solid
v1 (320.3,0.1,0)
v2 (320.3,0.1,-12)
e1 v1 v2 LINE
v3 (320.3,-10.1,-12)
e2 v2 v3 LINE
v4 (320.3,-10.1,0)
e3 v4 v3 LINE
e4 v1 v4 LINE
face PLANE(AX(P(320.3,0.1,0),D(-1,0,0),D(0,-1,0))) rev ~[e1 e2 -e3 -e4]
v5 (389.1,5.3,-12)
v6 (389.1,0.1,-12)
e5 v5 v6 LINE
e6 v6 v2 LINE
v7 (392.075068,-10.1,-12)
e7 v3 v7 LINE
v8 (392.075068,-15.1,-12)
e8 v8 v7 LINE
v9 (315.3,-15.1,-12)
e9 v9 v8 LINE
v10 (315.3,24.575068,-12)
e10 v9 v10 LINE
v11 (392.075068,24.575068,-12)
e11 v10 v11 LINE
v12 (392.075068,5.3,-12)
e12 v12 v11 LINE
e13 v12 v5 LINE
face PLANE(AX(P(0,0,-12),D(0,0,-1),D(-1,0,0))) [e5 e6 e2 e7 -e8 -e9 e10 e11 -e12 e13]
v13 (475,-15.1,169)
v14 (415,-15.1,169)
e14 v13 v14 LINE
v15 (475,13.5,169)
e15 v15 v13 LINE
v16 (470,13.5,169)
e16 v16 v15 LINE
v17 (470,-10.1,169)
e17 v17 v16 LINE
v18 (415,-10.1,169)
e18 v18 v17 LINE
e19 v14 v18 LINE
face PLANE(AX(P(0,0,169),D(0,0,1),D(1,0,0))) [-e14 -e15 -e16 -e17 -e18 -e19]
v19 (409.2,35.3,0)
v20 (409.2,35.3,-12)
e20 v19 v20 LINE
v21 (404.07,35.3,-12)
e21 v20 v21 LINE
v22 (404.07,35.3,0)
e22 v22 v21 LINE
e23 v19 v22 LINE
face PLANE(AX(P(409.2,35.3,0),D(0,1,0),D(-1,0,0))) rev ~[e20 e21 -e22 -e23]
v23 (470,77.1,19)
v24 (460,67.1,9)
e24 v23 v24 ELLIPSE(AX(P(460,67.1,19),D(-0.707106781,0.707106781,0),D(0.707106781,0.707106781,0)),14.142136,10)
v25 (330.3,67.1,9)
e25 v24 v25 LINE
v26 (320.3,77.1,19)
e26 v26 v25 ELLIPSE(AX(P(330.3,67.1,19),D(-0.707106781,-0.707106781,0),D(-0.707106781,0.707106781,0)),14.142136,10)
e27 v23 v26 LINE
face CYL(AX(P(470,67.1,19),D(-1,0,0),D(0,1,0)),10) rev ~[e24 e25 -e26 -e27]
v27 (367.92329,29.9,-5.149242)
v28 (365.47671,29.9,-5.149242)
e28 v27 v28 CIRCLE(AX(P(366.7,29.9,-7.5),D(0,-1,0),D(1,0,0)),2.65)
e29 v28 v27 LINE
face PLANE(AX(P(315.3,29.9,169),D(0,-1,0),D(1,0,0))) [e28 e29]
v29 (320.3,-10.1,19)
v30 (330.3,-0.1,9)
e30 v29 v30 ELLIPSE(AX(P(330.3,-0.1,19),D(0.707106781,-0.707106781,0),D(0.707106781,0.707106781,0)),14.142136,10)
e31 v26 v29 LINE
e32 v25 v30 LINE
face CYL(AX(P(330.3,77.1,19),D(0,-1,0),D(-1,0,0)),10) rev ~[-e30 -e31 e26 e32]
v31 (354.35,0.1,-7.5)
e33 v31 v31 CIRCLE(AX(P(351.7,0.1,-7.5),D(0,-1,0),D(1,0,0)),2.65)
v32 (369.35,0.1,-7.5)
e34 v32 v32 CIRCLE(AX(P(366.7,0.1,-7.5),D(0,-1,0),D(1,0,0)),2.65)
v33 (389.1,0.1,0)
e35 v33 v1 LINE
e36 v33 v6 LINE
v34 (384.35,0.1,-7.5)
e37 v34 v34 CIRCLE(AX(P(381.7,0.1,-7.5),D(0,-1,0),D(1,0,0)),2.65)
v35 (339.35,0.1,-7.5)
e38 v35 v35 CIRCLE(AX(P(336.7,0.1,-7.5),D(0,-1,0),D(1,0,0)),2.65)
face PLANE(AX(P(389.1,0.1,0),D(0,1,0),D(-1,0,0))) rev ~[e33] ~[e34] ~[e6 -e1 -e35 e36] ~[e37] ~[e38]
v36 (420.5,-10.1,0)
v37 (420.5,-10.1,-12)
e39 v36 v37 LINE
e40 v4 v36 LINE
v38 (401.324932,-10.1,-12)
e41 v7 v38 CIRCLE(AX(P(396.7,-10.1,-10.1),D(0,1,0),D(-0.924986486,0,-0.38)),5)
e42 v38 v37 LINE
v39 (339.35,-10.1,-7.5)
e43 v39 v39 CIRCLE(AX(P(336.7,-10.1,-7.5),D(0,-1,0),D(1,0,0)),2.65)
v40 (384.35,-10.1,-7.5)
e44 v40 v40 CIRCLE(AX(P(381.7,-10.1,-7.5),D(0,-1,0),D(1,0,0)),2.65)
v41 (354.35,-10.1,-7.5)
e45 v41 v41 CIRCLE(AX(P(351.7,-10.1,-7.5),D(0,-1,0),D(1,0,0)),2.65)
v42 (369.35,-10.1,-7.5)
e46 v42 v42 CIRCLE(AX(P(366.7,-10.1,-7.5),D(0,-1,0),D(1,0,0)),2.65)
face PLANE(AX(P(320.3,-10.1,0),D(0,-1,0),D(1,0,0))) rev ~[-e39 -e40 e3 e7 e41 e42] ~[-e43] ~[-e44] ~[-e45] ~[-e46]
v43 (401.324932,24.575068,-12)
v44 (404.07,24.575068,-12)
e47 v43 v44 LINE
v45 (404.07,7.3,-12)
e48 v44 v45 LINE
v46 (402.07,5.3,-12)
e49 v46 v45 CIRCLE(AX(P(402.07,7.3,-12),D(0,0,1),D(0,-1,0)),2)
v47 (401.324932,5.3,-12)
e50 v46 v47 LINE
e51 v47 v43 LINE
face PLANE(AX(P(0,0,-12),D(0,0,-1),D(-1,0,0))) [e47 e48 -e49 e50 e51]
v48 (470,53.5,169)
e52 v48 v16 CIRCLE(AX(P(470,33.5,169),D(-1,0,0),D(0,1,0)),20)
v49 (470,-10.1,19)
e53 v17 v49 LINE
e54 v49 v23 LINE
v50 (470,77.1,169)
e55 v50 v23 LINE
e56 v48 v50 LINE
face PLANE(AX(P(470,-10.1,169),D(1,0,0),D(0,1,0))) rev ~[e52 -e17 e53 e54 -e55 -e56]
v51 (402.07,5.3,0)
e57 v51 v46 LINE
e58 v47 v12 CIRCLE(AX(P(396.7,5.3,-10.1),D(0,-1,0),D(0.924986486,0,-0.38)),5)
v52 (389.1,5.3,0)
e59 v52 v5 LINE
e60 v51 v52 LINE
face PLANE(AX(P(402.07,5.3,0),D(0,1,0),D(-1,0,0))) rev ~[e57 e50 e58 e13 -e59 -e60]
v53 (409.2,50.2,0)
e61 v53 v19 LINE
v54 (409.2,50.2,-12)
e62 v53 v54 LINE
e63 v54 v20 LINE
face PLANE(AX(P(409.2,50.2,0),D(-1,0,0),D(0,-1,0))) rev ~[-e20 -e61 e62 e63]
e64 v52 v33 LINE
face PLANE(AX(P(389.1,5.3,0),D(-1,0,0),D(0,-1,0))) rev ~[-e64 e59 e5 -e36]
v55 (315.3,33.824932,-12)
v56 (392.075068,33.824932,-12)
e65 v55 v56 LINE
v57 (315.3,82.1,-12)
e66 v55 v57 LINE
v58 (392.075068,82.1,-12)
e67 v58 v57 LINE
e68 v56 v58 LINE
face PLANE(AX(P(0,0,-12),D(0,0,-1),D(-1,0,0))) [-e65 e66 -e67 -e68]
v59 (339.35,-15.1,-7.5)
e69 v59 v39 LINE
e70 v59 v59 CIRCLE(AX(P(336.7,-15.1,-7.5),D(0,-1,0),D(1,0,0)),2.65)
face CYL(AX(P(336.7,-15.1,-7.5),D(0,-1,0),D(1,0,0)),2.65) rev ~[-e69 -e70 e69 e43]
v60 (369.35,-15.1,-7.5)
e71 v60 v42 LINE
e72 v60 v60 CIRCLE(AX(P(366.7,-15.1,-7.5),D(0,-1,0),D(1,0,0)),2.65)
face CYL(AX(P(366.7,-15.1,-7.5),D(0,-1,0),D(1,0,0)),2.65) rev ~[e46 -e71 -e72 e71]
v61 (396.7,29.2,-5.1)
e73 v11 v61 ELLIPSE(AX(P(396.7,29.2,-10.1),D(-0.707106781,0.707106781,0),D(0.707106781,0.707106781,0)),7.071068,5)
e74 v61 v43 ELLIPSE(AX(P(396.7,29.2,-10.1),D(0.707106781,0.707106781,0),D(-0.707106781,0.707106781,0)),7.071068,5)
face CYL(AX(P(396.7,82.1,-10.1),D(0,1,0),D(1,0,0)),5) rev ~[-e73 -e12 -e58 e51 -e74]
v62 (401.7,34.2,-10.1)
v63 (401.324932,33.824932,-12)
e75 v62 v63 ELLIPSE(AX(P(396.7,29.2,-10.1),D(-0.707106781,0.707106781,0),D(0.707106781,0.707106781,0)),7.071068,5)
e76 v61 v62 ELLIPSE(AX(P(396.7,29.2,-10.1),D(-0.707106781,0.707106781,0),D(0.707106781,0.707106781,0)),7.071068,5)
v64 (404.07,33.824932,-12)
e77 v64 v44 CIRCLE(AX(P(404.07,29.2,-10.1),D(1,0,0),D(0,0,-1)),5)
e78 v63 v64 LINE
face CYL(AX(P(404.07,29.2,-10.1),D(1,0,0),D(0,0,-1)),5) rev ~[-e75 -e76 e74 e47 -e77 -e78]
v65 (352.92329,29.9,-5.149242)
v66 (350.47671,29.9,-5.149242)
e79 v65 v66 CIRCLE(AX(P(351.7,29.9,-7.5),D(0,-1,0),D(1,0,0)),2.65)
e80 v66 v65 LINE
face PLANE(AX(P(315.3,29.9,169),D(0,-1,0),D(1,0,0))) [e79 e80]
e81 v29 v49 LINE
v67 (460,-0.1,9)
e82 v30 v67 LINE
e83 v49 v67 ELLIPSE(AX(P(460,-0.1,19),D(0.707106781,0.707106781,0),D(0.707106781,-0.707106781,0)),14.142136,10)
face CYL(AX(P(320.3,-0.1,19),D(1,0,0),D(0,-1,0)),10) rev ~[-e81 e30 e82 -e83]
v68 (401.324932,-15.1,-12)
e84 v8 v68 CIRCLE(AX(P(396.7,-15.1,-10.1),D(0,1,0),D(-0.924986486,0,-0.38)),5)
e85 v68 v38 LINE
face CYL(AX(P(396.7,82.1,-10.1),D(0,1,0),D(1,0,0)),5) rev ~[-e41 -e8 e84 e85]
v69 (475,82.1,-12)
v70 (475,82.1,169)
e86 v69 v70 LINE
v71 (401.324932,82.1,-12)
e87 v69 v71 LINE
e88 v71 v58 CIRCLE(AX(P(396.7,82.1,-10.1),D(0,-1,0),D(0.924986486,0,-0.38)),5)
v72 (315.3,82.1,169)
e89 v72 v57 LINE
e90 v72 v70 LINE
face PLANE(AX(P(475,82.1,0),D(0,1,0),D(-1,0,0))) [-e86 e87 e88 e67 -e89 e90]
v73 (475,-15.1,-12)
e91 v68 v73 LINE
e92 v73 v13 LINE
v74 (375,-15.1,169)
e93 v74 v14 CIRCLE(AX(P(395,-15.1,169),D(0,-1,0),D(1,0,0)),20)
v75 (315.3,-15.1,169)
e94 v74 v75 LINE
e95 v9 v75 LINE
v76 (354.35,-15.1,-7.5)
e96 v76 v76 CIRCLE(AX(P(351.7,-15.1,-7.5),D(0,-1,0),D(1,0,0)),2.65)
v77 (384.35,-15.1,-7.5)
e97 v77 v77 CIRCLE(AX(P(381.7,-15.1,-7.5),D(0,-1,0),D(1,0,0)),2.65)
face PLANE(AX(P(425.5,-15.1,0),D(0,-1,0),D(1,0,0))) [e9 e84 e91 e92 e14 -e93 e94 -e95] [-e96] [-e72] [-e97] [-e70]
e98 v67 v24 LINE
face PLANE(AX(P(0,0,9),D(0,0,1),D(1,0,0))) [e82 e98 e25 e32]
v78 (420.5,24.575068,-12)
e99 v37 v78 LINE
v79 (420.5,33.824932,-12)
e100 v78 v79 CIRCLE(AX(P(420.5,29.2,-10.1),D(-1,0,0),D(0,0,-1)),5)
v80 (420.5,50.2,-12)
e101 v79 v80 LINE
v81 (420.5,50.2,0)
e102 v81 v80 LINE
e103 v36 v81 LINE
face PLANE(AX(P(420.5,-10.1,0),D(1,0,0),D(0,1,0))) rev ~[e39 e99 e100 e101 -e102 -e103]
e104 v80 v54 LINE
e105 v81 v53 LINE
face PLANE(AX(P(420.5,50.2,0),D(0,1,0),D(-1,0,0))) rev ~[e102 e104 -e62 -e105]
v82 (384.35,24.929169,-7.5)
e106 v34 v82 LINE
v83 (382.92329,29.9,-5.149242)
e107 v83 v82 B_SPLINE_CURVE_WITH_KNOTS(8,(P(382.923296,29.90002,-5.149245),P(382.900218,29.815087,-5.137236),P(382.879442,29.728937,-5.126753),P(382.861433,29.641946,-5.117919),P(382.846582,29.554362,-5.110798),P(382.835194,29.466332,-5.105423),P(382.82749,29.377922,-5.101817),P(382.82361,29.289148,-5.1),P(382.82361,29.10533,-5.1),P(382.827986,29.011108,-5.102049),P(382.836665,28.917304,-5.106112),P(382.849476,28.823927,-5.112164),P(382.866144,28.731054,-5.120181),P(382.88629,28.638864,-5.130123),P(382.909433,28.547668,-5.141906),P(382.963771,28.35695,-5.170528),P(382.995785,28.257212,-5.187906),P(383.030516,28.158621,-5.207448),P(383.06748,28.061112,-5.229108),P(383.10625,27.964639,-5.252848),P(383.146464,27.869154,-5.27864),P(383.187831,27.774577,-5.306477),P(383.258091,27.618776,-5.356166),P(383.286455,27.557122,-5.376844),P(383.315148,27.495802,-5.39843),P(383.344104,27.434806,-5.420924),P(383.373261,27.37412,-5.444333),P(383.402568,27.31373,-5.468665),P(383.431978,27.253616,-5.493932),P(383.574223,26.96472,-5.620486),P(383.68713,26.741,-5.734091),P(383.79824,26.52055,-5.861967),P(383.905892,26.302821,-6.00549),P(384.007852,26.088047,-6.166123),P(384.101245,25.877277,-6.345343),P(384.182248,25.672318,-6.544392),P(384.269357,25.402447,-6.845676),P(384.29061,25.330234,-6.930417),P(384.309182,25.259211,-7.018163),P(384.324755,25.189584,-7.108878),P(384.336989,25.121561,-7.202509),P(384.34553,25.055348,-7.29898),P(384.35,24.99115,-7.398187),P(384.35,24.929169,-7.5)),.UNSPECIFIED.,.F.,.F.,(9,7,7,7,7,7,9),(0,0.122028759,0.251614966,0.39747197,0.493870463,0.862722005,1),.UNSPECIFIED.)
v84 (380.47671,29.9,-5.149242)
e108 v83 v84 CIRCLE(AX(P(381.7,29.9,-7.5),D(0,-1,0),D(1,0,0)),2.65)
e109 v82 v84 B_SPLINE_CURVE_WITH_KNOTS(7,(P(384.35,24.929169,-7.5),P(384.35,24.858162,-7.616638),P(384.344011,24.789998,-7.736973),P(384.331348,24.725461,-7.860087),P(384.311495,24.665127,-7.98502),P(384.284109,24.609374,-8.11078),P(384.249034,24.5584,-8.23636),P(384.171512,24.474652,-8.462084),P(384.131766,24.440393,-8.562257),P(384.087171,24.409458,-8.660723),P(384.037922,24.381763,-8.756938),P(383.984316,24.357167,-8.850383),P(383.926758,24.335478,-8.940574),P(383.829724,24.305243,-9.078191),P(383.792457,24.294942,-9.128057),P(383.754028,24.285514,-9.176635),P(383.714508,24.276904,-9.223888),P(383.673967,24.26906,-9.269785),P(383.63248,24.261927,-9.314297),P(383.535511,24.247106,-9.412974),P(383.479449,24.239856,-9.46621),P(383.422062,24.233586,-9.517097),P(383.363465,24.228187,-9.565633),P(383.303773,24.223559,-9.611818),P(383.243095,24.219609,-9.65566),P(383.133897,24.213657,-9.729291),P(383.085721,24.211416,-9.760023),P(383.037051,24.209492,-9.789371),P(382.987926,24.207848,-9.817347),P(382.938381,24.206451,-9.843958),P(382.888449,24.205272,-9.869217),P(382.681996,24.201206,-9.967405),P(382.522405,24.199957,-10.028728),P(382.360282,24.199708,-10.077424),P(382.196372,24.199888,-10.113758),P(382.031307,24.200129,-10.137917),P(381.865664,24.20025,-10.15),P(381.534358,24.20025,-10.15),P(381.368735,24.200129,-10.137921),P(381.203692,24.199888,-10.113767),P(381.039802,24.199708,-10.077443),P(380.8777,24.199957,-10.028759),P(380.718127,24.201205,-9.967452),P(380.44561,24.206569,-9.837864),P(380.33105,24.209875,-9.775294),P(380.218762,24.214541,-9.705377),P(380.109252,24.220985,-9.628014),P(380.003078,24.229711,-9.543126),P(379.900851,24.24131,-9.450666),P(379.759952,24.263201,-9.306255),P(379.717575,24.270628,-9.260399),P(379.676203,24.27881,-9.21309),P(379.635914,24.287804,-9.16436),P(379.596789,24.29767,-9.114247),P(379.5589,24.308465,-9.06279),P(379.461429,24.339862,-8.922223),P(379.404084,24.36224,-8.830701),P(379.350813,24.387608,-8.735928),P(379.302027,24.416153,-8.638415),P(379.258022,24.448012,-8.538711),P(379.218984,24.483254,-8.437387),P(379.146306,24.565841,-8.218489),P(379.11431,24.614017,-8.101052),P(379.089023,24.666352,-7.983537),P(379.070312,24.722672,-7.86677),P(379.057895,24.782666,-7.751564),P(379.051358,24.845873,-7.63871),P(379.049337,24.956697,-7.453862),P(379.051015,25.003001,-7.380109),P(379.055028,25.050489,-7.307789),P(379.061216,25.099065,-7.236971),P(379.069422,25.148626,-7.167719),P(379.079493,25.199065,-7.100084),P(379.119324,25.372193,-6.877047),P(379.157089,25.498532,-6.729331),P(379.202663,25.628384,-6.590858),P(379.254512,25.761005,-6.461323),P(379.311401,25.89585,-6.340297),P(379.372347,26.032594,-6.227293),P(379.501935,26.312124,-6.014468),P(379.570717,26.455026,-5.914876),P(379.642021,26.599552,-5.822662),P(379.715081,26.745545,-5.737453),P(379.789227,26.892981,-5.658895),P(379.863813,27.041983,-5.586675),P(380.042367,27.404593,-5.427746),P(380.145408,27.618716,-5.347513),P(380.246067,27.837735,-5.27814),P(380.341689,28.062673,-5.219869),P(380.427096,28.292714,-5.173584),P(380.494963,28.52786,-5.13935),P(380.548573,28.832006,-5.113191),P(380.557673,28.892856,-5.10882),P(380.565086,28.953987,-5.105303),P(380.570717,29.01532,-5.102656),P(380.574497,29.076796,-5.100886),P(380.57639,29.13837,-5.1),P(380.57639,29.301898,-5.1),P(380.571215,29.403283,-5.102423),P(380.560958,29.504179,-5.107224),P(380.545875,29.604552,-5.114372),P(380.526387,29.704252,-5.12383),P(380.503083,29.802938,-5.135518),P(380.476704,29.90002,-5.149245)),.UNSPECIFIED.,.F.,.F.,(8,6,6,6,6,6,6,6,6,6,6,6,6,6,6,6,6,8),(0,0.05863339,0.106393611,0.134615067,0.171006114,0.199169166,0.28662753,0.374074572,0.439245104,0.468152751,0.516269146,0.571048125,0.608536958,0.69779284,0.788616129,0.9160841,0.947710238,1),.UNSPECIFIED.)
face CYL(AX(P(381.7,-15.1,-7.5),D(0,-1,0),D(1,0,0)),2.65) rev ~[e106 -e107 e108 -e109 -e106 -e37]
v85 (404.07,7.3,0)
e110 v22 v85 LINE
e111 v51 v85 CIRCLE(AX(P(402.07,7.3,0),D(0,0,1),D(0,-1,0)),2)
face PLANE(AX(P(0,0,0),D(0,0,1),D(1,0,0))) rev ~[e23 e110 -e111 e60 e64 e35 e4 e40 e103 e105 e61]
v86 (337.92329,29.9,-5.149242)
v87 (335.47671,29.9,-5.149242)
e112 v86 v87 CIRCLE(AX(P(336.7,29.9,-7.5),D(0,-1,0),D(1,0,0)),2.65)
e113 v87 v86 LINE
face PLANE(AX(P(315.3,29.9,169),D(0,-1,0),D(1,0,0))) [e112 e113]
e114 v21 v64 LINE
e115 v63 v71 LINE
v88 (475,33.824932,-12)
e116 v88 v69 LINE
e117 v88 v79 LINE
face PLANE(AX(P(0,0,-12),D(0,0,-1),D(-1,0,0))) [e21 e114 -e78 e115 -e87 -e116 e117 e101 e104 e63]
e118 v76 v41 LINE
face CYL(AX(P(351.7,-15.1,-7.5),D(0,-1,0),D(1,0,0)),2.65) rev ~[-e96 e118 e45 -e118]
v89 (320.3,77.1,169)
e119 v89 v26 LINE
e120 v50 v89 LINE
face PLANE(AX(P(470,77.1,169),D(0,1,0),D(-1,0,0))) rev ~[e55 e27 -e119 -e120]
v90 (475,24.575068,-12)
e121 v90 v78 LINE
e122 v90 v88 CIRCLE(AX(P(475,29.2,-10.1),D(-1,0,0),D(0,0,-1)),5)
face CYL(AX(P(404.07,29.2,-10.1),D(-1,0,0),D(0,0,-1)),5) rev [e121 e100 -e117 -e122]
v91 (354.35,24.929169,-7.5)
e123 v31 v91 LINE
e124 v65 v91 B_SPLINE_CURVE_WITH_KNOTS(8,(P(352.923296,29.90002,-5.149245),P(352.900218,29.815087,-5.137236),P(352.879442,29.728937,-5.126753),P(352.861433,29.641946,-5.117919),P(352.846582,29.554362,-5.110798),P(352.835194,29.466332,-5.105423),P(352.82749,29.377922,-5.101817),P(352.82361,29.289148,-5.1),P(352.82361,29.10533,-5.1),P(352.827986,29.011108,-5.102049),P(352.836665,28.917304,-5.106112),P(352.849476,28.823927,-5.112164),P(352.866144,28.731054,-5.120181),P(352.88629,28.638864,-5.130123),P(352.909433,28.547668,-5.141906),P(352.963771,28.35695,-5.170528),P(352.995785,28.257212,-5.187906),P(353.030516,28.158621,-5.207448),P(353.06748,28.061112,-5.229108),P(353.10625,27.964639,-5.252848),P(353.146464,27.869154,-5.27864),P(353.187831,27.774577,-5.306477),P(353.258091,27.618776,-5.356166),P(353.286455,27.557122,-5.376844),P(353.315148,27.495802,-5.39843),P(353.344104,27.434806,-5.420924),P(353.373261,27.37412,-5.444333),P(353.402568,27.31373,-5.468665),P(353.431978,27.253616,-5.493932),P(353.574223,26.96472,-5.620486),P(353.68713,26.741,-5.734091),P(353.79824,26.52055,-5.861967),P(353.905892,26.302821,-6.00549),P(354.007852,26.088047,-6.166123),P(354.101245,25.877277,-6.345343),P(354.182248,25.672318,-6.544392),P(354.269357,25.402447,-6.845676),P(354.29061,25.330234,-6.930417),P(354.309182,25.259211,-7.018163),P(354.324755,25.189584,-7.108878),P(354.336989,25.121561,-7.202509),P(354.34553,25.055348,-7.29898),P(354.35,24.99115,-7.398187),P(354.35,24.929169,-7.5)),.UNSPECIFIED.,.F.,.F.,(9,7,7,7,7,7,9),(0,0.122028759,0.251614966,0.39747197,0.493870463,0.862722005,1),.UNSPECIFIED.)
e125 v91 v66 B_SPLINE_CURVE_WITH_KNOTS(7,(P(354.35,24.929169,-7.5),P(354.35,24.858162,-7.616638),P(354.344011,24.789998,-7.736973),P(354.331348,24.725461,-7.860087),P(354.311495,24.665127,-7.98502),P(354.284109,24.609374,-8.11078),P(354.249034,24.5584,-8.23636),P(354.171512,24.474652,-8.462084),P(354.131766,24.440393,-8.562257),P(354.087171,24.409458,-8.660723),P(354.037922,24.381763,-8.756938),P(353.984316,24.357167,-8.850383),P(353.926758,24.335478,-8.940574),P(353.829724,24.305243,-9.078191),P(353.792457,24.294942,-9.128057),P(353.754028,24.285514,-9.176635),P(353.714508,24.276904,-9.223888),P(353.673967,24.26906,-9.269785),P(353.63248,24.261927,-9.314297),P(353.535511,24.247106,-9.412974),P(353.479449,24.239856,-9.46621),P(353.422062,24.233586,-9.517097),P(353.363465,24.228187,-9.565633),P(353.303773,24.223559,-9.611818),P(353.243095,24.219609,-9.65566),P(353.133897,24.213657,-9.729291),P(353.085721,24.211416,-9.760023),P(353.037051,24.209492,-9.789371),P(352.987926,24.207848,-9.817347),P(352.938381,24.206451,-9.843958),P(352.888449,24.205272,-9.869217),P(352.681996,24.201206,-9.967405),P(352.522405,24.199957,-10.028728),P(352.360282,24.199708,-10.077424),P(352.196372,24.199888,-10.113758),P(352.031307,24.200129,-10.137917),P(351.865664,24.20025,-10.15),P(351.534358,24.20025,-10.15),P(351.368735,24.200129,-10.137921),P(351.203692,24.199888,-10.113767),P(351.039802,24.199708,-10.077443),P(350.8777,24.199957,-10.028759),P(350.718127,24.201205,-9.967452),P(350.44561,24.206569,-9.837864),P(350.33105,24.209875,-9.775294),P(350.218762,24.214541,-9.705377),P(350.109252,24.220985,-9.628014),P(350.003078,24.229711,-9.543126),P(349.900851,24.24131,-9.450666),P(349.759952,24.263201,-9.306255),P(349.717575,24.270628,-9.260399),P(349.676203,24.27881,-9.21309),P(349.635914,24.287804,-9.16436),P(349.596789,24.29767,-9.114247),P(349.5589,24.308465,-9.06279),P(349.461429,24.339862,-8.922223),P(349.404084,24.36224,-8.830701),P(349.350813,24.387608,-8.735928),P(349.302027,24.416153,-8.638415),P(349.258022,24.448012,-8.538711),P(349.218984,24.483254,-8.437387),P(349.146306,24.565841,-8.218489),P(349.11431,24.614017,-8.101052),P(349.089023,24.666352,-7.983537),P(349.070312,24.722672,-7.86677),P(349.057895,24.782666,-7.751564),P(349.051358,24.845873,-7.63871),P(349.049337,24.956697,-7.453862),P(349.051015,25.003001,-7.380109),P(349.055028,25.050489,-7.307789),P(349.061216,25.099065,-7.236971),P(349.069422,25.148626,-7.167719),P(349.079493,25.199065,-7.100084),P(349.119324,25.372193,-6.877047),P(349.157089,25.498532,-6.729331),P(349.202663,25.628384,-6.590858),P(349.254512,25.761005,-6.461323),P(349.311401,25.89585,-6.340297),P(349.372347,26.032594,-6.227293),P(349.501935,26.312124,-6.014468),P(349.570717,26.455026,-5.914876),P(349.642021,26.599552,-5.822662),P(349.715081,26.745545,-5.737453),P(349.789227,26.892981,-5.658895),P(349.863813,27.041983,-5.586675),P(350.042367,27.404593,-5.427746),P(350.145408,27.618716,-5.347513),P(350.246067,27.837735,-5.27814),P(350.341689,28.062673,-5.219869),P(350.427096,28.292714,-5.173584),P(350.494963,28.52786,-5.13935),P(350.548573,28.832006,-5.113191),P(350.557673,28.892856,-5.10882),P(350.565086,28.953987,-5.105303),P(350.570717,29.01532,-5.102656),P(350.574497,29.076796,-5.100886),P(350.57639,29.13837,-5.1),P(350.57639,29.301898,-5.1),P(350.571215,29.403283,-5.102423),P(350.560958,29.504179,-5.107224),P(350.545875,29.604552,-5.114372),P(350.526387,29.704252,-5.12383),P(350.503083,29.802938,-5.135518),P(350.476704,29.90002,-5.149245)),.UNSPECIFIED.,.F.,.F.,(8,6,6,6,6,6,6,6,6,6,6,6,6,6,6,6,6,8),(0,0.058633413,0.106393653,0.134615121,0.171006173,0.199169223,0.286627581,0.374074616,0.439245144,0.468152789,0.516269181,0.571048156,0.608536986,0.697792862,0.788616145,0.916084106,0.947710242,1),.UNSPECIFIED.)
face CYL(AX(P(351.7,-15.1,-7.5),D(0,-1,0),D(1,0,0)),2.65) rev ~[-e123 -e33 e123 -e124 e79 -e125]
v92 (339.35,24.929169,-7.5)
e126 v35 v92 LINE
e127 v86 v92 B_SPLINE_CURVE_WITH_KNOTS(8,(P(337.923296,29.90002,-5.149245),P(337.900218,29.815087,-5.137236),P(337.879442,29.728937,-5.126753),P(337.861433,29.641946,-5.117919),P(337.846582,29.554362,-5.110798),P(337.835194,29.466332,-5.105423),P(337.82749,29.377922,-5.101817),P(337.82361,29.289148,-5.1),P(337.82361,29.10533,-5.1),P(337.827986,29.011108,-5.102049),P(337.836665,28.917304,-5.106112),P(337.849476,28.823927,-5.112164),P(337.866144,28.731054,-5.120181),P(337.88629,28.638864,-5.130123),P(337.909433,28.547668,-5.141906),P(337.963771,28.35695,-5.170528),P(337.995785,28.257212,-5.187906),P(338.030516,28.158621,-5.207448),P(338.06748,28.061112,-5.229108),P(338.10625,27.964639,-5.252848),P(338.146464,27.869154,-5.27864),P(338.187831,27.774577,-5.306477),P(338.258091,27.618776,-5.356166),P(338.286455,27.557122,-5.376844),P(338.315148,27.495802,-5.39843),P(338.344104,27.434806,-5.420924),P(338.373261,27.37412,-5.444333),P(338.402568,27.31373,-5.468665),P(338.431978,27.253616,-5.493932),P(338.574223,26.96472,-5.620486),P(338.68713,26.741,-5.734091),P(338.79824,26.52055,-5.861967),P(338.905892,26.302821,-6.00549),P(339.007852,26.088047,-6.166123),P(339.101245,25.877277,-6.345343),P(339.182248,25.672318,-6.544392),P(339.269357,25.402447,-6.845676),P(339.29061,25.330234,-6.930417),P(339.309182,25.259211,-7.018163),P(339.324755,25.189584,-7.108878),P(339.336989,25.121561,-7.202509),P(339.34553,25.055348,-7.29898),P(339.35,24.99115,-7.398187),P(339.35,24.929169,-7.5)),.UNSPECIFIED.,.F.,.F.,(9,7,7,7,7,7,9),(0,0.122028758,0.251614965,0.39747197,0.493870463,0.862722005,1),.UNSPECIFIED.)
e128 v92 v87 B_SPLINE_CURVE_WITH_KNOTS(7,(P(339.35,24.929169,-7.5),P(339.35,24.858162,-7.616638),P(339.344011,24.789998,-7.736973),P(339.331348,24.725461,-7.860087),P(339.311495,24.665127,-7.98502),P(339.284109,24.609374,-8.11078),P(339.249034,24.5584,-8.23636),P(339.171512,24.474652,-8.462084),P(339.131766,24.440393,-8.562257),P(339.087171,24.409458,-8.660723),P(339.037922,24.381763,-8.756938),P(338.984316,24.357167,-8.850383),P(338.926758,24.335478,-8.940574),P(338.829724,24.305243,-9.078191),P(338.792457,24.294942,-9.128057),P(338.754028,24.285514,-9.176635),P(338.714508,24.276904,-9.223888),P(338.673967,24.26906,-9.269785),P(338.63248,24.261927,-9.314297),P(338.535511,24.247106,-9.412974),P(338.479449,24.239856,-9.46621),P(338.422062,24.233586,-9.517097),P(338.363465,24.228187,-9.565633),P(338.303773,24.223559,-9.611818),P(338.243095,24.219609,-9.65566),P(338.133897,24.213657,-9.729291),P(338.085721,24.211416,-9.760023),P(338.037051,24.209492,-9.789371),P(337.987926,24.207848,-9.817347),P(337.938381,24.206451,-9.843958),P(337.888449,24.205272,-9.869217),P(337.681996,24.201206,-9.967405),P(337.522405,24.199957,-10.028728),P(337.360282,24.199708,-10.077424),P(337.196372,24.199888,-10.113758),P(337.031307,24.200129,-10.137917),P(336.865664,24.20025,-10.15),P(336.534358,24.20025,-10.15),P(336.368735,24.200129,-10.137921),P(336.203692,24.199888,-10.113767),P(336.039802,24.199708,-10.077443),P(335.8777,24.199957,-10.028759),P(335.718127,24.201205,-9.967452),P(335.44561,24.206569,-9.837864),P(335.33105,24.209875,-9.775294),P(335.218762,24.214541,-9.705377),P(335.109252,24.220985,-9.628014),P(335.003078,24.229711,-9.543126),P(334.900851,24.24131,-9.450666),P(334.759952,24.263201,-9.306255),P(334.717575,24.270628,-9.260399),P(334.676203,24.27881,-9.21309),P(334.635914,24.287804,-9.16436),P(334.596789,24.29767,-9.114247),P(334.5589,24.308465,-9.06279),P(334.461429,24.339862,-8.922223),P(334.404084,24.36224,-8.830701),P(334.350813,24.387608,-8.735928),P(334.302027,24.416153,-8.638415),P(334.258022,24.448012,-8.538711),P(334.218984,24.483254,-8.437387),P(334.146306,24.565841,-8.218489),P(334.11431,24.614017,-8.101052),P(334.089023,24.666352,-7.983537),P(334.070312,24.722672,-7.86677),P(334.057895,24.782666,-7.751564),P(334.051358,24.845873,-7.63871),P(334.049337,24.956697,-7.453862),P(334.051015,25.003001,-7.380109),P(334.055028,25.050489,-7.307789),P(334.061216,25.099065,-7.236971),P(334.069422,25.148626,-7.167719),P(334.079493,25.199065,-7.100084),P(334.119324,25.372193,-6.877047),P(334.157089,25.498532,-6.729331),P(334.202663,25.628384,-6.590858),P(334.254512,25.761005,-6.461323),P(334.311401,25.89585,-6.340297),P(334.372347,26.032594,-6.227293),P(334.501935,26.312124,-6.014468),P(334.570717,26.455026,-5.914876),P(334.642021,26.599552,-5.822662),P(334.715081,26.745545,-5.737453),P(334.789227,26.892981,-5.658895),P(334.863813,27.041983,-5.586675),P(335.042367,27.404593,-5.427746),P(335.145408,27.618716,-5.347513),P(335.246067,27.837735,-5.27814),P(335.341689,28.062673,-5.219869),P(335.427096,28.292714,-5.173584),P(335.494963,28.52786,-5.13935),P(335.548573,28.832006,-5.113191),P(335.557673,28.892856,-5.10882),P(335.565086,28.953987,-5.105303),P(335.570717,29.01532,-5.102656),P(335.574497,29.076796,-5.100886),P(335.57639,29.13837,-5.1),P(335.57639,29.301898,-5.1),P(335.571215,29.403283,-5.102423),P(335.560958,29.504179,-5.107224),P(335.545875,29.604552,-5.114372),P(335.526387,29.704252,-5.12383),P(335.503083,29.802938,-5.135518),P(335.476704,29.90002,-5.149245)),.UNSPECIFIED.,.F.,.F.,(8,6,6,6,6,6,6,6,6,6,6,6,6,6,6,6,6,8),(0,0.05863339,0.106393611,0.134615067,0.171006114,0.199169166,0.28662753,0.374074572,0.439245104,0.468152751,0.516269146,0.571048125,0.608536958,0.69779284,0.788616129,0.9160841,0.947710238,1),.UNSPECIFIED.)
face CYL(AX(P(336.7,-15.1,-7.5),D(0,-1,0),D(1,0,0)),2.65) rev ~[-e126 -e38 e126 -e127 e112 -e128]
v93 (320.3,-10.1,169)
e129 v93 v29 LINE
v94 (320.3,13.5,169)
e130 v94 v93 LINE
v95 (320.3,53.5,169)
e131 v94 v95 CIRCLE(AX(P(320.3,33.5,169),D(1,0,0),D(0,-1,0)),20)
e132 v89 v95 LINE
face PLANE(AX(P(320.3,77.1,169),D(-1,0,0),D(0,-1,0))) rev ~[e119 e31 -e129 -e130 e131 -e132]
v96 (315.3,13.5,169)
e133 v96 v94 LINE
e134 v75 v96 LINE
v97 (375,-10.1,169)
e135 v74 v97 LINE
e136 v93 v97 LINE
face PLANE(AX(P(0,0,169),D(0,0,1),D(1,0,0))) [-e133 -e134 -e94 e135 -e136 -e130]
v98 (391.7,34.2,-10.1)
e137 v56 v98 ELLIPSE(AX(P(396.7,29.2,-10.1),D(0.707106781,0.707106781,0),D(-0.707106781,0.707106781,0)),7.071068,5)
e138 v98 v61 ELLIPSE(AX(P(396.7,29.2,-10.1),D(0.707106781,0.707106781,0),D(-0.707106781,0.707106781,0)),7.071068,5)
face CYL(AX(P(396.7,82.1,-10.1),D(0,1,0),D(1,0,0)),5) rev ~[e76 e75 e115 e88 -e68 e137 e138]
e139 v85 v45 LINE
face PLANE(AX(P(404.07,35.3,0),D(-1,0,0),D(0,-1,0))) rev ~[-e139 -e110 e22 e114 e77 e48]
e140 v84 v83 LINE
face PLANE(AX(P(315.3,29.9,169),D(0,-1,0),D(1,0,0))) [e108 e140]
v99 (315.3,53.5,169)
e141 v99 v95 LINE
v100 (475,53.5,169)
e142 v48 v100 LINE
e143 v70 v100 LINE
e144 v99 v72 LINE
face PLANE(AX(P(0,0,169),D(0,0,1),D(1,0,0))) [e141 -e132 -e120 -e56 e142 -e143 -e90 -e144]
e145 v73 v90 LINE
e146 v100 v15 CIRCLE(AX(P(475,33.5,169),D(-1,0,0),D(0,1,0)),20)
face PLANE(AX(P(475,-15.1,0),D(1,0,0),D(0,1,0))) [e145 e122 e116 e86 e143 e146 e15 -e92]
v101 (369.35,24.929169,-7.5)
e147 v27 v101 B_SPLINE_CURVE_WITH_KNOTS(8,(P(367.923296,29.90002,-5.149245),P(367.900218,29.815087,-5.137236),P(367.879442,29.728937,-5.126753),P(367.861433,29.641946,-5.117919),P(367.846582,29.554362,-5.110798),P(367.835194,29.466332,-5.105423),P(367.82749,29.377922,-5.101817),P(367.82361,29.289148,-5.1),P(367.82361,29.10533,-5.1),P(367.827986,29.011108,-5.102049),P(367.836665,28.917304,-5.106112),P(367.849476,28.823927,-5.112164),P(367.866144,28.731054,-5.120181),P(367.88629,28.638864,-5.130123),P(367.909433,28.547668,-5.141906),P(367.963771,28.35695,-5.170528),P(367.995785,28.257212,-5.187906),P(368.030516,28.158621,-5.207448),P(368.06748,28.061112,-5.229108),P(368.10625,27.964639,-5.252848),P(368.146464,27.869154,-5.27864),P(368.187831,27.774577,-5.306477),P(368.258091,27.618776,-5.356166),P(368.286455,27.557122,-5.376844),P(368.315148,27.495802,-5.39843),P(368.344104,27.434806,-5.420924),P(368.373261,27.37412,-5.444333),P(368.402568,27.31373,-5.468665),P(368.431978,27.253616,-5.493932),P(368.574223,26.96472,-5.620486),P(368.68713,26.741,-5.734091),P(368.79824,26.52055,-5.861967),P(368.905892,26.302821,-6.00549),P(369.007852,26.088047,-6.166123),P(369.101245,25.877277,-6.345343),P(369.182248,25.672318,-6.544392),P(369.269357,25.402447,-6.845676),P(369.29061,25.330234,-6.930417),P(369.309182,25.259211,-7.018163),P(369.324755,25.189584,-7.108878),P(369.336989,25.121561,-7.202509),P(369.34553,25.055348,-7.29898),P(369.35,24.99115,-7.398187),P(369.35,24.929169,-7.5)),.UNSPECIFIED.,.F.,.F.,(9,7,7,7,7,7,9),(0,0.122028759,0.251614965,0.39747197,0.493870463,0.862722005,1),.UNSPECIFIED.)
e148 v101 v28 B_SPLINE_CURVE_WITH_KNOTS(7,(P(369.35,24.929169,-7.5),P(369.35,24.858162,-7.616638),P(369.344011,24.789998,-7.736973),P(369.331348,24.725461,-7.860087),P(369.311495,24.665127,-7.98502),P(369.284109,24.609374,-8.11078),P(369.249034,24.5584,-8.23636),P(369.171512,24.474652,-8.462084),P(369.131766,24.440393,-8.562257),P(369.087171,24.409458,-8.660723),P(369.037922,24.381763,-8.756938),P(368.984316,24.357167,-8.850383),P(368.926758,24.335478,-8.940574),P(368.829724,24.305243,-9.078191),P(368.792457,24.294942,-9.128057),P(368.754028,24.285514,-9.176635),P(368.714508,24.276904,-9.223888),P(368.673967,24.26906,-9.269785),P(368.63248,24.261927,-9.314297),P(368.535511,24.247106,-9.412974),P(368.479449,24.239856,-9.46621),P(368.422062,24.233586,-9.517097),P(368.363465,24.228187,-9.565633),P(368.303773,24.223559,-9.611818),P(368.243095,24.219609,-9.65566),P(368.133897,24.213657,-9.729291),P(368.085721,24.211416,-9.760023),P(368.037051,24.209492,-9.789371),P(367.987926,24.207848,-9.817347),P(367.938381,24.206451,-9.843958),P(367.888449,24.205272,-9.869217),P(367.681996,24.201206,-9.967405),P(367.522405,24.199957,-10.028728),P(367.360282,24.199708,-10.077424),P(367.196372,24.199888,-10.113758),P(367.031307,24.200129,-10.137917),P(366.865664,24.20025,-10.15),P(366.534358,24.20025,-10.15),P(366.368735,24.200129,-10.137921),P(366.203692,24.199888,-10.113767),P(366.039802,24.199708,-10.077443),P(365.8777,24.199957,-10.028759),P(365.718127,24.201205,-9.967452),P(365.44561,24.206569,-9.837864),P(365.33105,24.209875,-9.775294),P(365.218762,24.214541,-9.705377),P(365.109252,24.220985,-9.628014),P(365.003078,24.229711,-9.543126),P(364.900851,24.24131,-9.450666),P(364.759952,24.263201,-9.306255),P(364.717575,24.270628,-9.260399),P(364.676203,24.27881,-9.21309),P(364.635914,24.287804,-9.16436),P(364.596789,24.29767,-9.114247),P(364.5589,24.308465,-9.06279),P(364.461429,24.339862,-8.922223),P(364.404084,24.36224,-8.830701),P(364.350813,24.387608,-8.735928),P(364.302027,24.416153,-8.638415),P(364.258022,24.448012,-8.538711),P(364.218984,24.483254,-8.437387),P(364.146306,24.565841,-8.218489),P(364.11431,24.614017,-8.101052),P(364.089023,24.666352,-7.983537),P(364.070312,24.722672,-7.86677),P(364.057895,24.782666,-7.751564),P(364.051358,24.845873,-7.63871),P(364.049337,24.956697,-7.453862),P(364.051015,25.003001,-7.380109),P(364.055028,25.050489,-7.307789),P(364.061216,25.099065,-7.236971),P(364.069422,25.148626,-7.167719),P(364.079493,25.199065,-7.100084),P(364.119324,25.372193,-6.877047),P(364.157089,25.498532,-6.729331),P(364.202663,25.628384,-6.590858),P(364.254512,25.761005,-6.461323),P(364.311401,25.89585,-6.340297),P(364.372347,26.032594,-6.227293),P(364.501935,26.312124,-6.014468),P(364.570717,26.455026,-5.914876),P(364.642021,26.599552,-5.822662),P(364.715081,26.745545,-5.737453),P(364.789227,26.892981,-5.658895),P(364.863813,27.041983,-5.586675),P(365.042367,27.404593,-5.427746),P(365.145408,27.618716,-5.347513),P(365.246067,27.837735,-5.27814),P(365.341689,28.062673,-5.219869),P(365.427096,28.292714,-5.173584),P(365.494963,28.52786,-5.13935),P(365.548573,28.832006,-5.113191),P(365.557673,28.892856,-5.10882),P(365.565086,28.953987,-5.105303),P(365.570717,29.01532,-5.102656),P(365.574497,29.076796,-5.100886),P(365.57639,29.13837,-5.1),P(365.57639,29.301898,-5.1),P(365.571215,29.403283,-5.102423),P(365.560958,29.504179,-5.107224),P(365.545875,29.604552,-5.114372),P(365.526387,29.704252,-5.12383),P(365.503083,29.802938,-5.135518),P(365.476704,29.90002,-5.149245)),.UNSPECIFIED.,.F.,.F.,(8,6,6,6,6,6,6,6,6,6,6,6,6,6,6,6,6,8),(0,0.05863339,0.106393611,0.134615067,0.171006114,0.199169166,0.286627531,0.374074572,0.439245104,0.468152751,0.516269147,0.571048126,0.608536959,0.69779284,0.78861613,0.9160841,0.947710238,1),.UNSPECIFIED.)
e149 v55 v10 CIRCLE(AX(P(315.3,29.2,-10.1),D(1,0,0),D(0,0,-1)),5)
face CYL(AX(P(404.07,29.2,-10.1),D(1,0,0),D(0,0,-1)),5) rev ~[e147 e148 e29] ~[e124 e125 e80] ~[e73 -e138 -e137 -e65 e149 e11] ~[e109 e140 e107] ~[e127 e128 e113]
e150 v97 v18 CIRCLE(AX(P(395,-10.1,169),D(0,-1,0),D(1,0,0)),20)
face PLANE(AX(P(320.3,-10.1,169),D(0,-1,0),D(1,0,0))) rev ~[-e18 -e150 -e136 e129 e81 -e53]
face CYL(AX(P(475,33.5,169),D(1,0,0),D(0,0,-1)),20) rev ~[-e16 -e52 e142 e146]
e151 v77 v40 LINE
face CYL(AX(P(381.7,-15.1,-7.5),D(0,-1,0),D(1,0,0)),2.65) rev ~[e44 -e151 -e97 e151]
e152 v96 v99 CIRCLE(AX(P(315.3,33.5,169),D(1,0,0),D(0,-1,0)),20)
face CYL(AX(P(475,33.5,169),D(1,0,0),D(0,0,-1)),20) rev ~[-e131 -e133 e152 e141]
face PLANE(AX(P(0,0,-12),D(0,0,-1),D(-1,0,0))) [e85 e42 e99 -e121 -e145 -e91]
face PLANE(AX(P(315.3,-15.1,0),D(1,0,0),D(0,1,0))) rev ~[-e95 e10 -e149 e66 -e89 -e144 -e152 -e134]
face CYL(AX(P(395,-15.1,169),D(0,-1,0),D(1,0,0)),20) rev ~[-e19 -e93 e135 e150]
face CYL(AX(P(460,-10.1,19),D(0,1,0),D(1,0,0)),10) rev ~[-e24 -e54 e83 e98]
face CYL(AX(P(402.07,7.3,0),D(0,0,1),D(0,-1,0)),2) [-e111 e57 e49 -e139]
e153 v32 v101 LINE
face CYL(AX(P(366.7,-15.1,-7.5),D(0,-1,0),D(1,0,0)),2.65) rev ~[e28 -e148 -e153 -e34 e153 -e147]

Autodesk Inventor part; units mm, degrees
ref_plane "YZ Plane" through (0, 0, 0) normal (1, 0, 0) x (0, 1, 0)
ref_plane "XZ Plane" through (0, 0, 0) normal (0, 1, 0) x (-1, 0, 0)
sketch "Sketch1" plane through (0, 0, 0) normal (0, 0, 1) x (1, 0, 0)
  line L0 (320.4, 0) -> (420.4, 0) construction
  line L1 (420.4, 0) -> (420.4, -10) construction
  line L2 (320.4, -10) -> (420.4, -10) construction
  line L3 (320.4, 0) -> (320.4, -10) construction
  line L4 (409.3, 0.1) -> (409.3, 50.1) construction
  line L5 (420.4, 0.1) -> (409.3, 0.1) construction
  line L6 (420.4, 50.1) -> (420.4, 0.1) construction
  line L7 (409.3, 50.1) -> (420.4, 50.1) construction
  line L8 (420.5, 50.2) -> (409.2, 50.2)
  line L9 (409.2, 50.2) -> (409.2, 35.3)
  line L10 (409.2, 35.3) -> (404.07, 35.3)
  line L11 (404.07, 35.3) -> (404.07, 7.3)
  line L12 (402.07, 5.3) -> (389.1, 5.3)
  line L13 (389.1, 5.3) -> (389.1, 0.1)
  line L14 (389.1, 0.1) -> (320.3, 0.1)
  line L15 (320.3, 0.1) -> (320.3, -10.1)
  line L16 (320.3, -10.1) -> (420.5, -10.1)
  line L17 (420.5, -10.1) -> (420.5, 50.2)
  arc A0 (402.07, 5.3) -> (404.07, 7.3) centre (402.07, 7.3) ccw
  line L18 (315.3, 5.1) -> (384.1, 5.1)
  line L19 (384.1, 5.1) -> (384.1, 10.3)
  line L20 (384.1, 10.3) -> (399.07, 10.3)
  line L21 (399.07, 10.3) -> (399.07, 40.3)
  line L22 (399.07, 40.3) -> (404.2, 40.3)
  line L23 (404.2, 40.3) -> (404.2, 55.2)
  line L24 (404.2, 55.2) -> (425.5, 55.2)
  line L25 (425.5, 55.2) -> (425.5, -15.1)
  line L26 (425.5, -15.1) -> (315.3, -15.1)
  line L27 (315.3, -15.1) -> (315.3, 5.1)
  line L28 (404.2, 7.2) -> (404.2, 35.2) projected
  arc A1 (402.2, 5.2) -> (404.2, 7.2) centre (402.2, 7.2) ccw projected
  line L29 (389.2, 5.2) -> (402.2, 5.2) projected
  line L30 (389.2, 0.2) -> (389.2, 5.2) projected
  line L31 (409.2, 0.2) -> (389.2, 0.2) projected
  line L32 (409.2, 35.2) -> (409.2, 0.2) projected
  line L33 (404.2, 35.2) -> (409.2, 35.2) projected
  point P0 (0, 0)
  dimension "d0" = 0.1
  dimension "d1" = 0.1
  dimension "d2" = 0.1
  dimension "d6" = 2
  dimension "d8" = 0.1
  dimension "d9" = 0.1
  dimension "d10" = 0.1
  dimension "d11" = 5
  dimension "d72" = 0.1
  dimension "d73" = 0.1
  dimension "d74" = 0.13
  dimension "d75" = 0.1
extrude "Extrusion1" add sketch "Sketch1" against normal blind 12 contours L18 L19 L20 L21 L22 L23 L24 L25 L26 L27
sketch "Sketch4" plane through (0, 0, 0) normal (0, 0, 1) x (1, 0, 0)
  line L0 (194.6531, 87.1) -> (247.6531, 87.1) projected
  line L1 (315.3, 82.1) -> (475, 82.1)
  line L2 (475, -15.1) -> (315.3, -15.1)
  line L3 (315.3, -15.1) -> (315.3, 82.1)
  line L4 (315.3, -15.1) -> (425.5, -15.1) projected
  line L5 (315.3, 5.1) -> (315.3, -15.1) projected
  line L6 (475, 9.2) -> (475, 65.2) projected
  line L7 (475, -15.1) -> (475, 82.1)
  point P0 (0, 0)
  dimension "d66" = 5
extrude "Extrusion4" add sketch "Sketch4" along normal blind 169
sketch "Sketch5" plane through (0, 0, 169) normal (0, 0, 1) x (1, 0, 0)
  line L0 (315.3, 82.1) -> (315.3, -15.1) projected
  line L1 (315.3, -15.1) -> (475, -15.1) projected
  line L2 (475, -15.1) -> (475, 82.1) projected
  line L3 (475, 82.1) -> (315.3, 82.1) projected
  line L4 (320.3, 77.1) -> (320.3, -10.1)
  line L5 (320.3, -10.1) -> (470, -10.1)
  line L6 (470, -10.1) -> (470, 77.1)
  line L7 (470, 77.1) -> (320.3, 77.1)
  point P0 (0, 0)
  dimension "d26" = 5
extrude "Extrusion5" cut sketch "Sketch5" against normal blind 160 contours L7 L6 L5 L4
sketch "Sketch6" plane through (0, 0, 0) normal (0, 0, -1) x (-1, 0, 0)
  line L0 (-384.1, 5.1) -> (-315.3, 5.1) projected
  line L1 (-315.3, 82.1) -> (-315.3, 5.1) projected
  line L2 (-475, 82.1) -> (-315.3, 82.1) projected
  line L3 (-475, -15.1) -> (-475, 82.1) projected
  line L4 (-425.5, -15.1) -> (-475, -15.1) projected
  line L5 (-425.5, -15.1) -> (-425.5, 55.2) projected
  line L6 (-425.5, 55.2) -> (-404.2, 55.2) projected
  line L7 (-404.2, 55.2) -> (-404.2, 40.3) projected
  line L8 (-404.2, 40.3) -> (-399.07, 40.3) projected
  line L9 (-399.07, 40.3) -> (-399.07, 10.3) projected
  line L10 (-399.07, 10.3) -> (-384.1, 10.3) projected
  line L11 (-384.1, 10.3) -> (-384.1, 5.1) projected
  point P0 (0, 0)
extrude "Extrusion6" add sketch "Sketch6" along normal up to surface (12 mm away)
sketch "Sketch7" plane through (315.3, 82.1, 169) normal (0, 1, 0) x (1, 0, 0)
  circle A0 centre (81.4, 179.1) radius 5
  circle A1 centre (36.4, 176.6) radius 2.5 construction
  circle A2 centre (51.4, 176.6) radius 2.5 construction
  circle A3 centre (21.4, 176.6) radius 2.5 construction
  circle A4 centre (66.4, 176.6) radius 2.5 construction
  circle A5 centre (81.4, 179.1) radius 2.5 construction
  circle A6 centre (81.4, 194.1) radius 2.5 construction
  circle A7 centre (81.4, 209.1) radius 2.5 construction
  line L0 (5.1, 169.1) -> (5.1, 312.15) construction
  line L1 (5.1, 312.15) -> (105.1, 312.15) construction
  line L2 (105.1, 312.15) -> (105.1, 169.1) construction
  line L3 (105.1, 169.1) -> (5.1, 169.1) construction
  circle A8 centre (10.1, 282.25) radius 2.15 construction
  circle A9 centre (10.1, 302.15) radius 2.15 construction
  circle A10 centre (88.9, 302.15) radius 2.15 construction
  circle A11 centre (88.9, 282.25) radius 2.15 construction
  circle A12 centre (99.55, 189.1) radius 2.65 construction
  circle A13 centre (99.55, 209.1) radius 2.65 construction
  circle A14 centre (99.55, 229.1) radius 2.65 construction
  circle A15 centre (99.55, 249.1) radius 2.65 construction
  point P0 (-315.3, 169)
  dimension "d71" = 10
ref_plane "Work Plane2" through (389.2, 5.1, -50.1) normal (0, 1, 0) x (0, 0, 1)
extrude "Extrusion7" cut sketch "Sketch7" against normal through all
sketch "Sketch8" plane through (404.07, 7.3, -12) normal (1, 0, 0) x (0, 0, -1)
  circle A0 centre (-1.9, 21.9) radius 2.5 construction
  circle A1 centre (-1.9, 21.9) radius 2.5 construction
  circle A2 centre (-1.9, 21.9) radius 5
  point P0 (-12, -7.3)
  dimension "d34" = 10
extrude "Extrusion8" cut sketch "Sketch8" along normal through all both and the other way through all
sketch "Sketch9" plane through (315.3, -15.1, 169) normal (0, -1, 0) x (1, 0, 0)
  circle A0 centre (81.4, -179.1) radius 3.0567 construction
  line L0 (107.734, -169) -> (7.734, -169) construction
  circle A1 centre (66.4, -176.5) radius 2.65
  circle A2 centre (51.4, -176.5) radius 2.65
  circle A3 centre (36.4, -176.5) radius 2.65
  circle A4 centre (21.4, -176.5) radius 2.65
  line L1 (105.2, -169) -> (5, -169) construction
  circle A5 centre (81.4, -179.1) radius 2.5 construction
  point P0 (-315.3, -169)
  dimension "d37" = 5.3
  dimension "d38" = 7.5
  dimension "d39" = 15
  dimension "d42" = 15
extrude "Extrusion9" cut sketch "Sketch9" against normal blind 45
sketch "Sketch10" plane through (475, -15.1, 169) normal (1, 0, 0) x (0, 0, -1)
  circle A0 centre (0, 48.6) radius 20
  line L0 (0, 48.6) -> (279.056, 48.6) construction
  line L1 (0, 0) -> (0, 97.2) projected
  point P0 (169, 15.1)
  dimension "d49" = 40
extrude "Extrusion10" cut sketch "Sketch10" against normal through all
fillet "Fillet2" radius 10 4 edges at (395.15, -10.1, 9) (470, 33.5, 9) (395.15, 77.1, 9) (320.3, 33.5, 9)
sketch "Sketch13" plane through (315.3, -15.1, 169) normal (0, -1, 0) x (1, 0, 0)
  line L0 (0, 0) -> (159.7, 0) projected
  circle A0 centre (79.7, 0) radius 20
  point P0 (-315.3, -169)
  point P1 (99.7, 0)
  point P2 (59.7, 0)
  dimension "d77" = 40
  dimension "d78" = 80
extrude "Extrusion13" cut sketch "Sketch13" against normal up to next contours L0 A0 picked at (83.4871, -5.4866)
properties part number "Lower Support"
